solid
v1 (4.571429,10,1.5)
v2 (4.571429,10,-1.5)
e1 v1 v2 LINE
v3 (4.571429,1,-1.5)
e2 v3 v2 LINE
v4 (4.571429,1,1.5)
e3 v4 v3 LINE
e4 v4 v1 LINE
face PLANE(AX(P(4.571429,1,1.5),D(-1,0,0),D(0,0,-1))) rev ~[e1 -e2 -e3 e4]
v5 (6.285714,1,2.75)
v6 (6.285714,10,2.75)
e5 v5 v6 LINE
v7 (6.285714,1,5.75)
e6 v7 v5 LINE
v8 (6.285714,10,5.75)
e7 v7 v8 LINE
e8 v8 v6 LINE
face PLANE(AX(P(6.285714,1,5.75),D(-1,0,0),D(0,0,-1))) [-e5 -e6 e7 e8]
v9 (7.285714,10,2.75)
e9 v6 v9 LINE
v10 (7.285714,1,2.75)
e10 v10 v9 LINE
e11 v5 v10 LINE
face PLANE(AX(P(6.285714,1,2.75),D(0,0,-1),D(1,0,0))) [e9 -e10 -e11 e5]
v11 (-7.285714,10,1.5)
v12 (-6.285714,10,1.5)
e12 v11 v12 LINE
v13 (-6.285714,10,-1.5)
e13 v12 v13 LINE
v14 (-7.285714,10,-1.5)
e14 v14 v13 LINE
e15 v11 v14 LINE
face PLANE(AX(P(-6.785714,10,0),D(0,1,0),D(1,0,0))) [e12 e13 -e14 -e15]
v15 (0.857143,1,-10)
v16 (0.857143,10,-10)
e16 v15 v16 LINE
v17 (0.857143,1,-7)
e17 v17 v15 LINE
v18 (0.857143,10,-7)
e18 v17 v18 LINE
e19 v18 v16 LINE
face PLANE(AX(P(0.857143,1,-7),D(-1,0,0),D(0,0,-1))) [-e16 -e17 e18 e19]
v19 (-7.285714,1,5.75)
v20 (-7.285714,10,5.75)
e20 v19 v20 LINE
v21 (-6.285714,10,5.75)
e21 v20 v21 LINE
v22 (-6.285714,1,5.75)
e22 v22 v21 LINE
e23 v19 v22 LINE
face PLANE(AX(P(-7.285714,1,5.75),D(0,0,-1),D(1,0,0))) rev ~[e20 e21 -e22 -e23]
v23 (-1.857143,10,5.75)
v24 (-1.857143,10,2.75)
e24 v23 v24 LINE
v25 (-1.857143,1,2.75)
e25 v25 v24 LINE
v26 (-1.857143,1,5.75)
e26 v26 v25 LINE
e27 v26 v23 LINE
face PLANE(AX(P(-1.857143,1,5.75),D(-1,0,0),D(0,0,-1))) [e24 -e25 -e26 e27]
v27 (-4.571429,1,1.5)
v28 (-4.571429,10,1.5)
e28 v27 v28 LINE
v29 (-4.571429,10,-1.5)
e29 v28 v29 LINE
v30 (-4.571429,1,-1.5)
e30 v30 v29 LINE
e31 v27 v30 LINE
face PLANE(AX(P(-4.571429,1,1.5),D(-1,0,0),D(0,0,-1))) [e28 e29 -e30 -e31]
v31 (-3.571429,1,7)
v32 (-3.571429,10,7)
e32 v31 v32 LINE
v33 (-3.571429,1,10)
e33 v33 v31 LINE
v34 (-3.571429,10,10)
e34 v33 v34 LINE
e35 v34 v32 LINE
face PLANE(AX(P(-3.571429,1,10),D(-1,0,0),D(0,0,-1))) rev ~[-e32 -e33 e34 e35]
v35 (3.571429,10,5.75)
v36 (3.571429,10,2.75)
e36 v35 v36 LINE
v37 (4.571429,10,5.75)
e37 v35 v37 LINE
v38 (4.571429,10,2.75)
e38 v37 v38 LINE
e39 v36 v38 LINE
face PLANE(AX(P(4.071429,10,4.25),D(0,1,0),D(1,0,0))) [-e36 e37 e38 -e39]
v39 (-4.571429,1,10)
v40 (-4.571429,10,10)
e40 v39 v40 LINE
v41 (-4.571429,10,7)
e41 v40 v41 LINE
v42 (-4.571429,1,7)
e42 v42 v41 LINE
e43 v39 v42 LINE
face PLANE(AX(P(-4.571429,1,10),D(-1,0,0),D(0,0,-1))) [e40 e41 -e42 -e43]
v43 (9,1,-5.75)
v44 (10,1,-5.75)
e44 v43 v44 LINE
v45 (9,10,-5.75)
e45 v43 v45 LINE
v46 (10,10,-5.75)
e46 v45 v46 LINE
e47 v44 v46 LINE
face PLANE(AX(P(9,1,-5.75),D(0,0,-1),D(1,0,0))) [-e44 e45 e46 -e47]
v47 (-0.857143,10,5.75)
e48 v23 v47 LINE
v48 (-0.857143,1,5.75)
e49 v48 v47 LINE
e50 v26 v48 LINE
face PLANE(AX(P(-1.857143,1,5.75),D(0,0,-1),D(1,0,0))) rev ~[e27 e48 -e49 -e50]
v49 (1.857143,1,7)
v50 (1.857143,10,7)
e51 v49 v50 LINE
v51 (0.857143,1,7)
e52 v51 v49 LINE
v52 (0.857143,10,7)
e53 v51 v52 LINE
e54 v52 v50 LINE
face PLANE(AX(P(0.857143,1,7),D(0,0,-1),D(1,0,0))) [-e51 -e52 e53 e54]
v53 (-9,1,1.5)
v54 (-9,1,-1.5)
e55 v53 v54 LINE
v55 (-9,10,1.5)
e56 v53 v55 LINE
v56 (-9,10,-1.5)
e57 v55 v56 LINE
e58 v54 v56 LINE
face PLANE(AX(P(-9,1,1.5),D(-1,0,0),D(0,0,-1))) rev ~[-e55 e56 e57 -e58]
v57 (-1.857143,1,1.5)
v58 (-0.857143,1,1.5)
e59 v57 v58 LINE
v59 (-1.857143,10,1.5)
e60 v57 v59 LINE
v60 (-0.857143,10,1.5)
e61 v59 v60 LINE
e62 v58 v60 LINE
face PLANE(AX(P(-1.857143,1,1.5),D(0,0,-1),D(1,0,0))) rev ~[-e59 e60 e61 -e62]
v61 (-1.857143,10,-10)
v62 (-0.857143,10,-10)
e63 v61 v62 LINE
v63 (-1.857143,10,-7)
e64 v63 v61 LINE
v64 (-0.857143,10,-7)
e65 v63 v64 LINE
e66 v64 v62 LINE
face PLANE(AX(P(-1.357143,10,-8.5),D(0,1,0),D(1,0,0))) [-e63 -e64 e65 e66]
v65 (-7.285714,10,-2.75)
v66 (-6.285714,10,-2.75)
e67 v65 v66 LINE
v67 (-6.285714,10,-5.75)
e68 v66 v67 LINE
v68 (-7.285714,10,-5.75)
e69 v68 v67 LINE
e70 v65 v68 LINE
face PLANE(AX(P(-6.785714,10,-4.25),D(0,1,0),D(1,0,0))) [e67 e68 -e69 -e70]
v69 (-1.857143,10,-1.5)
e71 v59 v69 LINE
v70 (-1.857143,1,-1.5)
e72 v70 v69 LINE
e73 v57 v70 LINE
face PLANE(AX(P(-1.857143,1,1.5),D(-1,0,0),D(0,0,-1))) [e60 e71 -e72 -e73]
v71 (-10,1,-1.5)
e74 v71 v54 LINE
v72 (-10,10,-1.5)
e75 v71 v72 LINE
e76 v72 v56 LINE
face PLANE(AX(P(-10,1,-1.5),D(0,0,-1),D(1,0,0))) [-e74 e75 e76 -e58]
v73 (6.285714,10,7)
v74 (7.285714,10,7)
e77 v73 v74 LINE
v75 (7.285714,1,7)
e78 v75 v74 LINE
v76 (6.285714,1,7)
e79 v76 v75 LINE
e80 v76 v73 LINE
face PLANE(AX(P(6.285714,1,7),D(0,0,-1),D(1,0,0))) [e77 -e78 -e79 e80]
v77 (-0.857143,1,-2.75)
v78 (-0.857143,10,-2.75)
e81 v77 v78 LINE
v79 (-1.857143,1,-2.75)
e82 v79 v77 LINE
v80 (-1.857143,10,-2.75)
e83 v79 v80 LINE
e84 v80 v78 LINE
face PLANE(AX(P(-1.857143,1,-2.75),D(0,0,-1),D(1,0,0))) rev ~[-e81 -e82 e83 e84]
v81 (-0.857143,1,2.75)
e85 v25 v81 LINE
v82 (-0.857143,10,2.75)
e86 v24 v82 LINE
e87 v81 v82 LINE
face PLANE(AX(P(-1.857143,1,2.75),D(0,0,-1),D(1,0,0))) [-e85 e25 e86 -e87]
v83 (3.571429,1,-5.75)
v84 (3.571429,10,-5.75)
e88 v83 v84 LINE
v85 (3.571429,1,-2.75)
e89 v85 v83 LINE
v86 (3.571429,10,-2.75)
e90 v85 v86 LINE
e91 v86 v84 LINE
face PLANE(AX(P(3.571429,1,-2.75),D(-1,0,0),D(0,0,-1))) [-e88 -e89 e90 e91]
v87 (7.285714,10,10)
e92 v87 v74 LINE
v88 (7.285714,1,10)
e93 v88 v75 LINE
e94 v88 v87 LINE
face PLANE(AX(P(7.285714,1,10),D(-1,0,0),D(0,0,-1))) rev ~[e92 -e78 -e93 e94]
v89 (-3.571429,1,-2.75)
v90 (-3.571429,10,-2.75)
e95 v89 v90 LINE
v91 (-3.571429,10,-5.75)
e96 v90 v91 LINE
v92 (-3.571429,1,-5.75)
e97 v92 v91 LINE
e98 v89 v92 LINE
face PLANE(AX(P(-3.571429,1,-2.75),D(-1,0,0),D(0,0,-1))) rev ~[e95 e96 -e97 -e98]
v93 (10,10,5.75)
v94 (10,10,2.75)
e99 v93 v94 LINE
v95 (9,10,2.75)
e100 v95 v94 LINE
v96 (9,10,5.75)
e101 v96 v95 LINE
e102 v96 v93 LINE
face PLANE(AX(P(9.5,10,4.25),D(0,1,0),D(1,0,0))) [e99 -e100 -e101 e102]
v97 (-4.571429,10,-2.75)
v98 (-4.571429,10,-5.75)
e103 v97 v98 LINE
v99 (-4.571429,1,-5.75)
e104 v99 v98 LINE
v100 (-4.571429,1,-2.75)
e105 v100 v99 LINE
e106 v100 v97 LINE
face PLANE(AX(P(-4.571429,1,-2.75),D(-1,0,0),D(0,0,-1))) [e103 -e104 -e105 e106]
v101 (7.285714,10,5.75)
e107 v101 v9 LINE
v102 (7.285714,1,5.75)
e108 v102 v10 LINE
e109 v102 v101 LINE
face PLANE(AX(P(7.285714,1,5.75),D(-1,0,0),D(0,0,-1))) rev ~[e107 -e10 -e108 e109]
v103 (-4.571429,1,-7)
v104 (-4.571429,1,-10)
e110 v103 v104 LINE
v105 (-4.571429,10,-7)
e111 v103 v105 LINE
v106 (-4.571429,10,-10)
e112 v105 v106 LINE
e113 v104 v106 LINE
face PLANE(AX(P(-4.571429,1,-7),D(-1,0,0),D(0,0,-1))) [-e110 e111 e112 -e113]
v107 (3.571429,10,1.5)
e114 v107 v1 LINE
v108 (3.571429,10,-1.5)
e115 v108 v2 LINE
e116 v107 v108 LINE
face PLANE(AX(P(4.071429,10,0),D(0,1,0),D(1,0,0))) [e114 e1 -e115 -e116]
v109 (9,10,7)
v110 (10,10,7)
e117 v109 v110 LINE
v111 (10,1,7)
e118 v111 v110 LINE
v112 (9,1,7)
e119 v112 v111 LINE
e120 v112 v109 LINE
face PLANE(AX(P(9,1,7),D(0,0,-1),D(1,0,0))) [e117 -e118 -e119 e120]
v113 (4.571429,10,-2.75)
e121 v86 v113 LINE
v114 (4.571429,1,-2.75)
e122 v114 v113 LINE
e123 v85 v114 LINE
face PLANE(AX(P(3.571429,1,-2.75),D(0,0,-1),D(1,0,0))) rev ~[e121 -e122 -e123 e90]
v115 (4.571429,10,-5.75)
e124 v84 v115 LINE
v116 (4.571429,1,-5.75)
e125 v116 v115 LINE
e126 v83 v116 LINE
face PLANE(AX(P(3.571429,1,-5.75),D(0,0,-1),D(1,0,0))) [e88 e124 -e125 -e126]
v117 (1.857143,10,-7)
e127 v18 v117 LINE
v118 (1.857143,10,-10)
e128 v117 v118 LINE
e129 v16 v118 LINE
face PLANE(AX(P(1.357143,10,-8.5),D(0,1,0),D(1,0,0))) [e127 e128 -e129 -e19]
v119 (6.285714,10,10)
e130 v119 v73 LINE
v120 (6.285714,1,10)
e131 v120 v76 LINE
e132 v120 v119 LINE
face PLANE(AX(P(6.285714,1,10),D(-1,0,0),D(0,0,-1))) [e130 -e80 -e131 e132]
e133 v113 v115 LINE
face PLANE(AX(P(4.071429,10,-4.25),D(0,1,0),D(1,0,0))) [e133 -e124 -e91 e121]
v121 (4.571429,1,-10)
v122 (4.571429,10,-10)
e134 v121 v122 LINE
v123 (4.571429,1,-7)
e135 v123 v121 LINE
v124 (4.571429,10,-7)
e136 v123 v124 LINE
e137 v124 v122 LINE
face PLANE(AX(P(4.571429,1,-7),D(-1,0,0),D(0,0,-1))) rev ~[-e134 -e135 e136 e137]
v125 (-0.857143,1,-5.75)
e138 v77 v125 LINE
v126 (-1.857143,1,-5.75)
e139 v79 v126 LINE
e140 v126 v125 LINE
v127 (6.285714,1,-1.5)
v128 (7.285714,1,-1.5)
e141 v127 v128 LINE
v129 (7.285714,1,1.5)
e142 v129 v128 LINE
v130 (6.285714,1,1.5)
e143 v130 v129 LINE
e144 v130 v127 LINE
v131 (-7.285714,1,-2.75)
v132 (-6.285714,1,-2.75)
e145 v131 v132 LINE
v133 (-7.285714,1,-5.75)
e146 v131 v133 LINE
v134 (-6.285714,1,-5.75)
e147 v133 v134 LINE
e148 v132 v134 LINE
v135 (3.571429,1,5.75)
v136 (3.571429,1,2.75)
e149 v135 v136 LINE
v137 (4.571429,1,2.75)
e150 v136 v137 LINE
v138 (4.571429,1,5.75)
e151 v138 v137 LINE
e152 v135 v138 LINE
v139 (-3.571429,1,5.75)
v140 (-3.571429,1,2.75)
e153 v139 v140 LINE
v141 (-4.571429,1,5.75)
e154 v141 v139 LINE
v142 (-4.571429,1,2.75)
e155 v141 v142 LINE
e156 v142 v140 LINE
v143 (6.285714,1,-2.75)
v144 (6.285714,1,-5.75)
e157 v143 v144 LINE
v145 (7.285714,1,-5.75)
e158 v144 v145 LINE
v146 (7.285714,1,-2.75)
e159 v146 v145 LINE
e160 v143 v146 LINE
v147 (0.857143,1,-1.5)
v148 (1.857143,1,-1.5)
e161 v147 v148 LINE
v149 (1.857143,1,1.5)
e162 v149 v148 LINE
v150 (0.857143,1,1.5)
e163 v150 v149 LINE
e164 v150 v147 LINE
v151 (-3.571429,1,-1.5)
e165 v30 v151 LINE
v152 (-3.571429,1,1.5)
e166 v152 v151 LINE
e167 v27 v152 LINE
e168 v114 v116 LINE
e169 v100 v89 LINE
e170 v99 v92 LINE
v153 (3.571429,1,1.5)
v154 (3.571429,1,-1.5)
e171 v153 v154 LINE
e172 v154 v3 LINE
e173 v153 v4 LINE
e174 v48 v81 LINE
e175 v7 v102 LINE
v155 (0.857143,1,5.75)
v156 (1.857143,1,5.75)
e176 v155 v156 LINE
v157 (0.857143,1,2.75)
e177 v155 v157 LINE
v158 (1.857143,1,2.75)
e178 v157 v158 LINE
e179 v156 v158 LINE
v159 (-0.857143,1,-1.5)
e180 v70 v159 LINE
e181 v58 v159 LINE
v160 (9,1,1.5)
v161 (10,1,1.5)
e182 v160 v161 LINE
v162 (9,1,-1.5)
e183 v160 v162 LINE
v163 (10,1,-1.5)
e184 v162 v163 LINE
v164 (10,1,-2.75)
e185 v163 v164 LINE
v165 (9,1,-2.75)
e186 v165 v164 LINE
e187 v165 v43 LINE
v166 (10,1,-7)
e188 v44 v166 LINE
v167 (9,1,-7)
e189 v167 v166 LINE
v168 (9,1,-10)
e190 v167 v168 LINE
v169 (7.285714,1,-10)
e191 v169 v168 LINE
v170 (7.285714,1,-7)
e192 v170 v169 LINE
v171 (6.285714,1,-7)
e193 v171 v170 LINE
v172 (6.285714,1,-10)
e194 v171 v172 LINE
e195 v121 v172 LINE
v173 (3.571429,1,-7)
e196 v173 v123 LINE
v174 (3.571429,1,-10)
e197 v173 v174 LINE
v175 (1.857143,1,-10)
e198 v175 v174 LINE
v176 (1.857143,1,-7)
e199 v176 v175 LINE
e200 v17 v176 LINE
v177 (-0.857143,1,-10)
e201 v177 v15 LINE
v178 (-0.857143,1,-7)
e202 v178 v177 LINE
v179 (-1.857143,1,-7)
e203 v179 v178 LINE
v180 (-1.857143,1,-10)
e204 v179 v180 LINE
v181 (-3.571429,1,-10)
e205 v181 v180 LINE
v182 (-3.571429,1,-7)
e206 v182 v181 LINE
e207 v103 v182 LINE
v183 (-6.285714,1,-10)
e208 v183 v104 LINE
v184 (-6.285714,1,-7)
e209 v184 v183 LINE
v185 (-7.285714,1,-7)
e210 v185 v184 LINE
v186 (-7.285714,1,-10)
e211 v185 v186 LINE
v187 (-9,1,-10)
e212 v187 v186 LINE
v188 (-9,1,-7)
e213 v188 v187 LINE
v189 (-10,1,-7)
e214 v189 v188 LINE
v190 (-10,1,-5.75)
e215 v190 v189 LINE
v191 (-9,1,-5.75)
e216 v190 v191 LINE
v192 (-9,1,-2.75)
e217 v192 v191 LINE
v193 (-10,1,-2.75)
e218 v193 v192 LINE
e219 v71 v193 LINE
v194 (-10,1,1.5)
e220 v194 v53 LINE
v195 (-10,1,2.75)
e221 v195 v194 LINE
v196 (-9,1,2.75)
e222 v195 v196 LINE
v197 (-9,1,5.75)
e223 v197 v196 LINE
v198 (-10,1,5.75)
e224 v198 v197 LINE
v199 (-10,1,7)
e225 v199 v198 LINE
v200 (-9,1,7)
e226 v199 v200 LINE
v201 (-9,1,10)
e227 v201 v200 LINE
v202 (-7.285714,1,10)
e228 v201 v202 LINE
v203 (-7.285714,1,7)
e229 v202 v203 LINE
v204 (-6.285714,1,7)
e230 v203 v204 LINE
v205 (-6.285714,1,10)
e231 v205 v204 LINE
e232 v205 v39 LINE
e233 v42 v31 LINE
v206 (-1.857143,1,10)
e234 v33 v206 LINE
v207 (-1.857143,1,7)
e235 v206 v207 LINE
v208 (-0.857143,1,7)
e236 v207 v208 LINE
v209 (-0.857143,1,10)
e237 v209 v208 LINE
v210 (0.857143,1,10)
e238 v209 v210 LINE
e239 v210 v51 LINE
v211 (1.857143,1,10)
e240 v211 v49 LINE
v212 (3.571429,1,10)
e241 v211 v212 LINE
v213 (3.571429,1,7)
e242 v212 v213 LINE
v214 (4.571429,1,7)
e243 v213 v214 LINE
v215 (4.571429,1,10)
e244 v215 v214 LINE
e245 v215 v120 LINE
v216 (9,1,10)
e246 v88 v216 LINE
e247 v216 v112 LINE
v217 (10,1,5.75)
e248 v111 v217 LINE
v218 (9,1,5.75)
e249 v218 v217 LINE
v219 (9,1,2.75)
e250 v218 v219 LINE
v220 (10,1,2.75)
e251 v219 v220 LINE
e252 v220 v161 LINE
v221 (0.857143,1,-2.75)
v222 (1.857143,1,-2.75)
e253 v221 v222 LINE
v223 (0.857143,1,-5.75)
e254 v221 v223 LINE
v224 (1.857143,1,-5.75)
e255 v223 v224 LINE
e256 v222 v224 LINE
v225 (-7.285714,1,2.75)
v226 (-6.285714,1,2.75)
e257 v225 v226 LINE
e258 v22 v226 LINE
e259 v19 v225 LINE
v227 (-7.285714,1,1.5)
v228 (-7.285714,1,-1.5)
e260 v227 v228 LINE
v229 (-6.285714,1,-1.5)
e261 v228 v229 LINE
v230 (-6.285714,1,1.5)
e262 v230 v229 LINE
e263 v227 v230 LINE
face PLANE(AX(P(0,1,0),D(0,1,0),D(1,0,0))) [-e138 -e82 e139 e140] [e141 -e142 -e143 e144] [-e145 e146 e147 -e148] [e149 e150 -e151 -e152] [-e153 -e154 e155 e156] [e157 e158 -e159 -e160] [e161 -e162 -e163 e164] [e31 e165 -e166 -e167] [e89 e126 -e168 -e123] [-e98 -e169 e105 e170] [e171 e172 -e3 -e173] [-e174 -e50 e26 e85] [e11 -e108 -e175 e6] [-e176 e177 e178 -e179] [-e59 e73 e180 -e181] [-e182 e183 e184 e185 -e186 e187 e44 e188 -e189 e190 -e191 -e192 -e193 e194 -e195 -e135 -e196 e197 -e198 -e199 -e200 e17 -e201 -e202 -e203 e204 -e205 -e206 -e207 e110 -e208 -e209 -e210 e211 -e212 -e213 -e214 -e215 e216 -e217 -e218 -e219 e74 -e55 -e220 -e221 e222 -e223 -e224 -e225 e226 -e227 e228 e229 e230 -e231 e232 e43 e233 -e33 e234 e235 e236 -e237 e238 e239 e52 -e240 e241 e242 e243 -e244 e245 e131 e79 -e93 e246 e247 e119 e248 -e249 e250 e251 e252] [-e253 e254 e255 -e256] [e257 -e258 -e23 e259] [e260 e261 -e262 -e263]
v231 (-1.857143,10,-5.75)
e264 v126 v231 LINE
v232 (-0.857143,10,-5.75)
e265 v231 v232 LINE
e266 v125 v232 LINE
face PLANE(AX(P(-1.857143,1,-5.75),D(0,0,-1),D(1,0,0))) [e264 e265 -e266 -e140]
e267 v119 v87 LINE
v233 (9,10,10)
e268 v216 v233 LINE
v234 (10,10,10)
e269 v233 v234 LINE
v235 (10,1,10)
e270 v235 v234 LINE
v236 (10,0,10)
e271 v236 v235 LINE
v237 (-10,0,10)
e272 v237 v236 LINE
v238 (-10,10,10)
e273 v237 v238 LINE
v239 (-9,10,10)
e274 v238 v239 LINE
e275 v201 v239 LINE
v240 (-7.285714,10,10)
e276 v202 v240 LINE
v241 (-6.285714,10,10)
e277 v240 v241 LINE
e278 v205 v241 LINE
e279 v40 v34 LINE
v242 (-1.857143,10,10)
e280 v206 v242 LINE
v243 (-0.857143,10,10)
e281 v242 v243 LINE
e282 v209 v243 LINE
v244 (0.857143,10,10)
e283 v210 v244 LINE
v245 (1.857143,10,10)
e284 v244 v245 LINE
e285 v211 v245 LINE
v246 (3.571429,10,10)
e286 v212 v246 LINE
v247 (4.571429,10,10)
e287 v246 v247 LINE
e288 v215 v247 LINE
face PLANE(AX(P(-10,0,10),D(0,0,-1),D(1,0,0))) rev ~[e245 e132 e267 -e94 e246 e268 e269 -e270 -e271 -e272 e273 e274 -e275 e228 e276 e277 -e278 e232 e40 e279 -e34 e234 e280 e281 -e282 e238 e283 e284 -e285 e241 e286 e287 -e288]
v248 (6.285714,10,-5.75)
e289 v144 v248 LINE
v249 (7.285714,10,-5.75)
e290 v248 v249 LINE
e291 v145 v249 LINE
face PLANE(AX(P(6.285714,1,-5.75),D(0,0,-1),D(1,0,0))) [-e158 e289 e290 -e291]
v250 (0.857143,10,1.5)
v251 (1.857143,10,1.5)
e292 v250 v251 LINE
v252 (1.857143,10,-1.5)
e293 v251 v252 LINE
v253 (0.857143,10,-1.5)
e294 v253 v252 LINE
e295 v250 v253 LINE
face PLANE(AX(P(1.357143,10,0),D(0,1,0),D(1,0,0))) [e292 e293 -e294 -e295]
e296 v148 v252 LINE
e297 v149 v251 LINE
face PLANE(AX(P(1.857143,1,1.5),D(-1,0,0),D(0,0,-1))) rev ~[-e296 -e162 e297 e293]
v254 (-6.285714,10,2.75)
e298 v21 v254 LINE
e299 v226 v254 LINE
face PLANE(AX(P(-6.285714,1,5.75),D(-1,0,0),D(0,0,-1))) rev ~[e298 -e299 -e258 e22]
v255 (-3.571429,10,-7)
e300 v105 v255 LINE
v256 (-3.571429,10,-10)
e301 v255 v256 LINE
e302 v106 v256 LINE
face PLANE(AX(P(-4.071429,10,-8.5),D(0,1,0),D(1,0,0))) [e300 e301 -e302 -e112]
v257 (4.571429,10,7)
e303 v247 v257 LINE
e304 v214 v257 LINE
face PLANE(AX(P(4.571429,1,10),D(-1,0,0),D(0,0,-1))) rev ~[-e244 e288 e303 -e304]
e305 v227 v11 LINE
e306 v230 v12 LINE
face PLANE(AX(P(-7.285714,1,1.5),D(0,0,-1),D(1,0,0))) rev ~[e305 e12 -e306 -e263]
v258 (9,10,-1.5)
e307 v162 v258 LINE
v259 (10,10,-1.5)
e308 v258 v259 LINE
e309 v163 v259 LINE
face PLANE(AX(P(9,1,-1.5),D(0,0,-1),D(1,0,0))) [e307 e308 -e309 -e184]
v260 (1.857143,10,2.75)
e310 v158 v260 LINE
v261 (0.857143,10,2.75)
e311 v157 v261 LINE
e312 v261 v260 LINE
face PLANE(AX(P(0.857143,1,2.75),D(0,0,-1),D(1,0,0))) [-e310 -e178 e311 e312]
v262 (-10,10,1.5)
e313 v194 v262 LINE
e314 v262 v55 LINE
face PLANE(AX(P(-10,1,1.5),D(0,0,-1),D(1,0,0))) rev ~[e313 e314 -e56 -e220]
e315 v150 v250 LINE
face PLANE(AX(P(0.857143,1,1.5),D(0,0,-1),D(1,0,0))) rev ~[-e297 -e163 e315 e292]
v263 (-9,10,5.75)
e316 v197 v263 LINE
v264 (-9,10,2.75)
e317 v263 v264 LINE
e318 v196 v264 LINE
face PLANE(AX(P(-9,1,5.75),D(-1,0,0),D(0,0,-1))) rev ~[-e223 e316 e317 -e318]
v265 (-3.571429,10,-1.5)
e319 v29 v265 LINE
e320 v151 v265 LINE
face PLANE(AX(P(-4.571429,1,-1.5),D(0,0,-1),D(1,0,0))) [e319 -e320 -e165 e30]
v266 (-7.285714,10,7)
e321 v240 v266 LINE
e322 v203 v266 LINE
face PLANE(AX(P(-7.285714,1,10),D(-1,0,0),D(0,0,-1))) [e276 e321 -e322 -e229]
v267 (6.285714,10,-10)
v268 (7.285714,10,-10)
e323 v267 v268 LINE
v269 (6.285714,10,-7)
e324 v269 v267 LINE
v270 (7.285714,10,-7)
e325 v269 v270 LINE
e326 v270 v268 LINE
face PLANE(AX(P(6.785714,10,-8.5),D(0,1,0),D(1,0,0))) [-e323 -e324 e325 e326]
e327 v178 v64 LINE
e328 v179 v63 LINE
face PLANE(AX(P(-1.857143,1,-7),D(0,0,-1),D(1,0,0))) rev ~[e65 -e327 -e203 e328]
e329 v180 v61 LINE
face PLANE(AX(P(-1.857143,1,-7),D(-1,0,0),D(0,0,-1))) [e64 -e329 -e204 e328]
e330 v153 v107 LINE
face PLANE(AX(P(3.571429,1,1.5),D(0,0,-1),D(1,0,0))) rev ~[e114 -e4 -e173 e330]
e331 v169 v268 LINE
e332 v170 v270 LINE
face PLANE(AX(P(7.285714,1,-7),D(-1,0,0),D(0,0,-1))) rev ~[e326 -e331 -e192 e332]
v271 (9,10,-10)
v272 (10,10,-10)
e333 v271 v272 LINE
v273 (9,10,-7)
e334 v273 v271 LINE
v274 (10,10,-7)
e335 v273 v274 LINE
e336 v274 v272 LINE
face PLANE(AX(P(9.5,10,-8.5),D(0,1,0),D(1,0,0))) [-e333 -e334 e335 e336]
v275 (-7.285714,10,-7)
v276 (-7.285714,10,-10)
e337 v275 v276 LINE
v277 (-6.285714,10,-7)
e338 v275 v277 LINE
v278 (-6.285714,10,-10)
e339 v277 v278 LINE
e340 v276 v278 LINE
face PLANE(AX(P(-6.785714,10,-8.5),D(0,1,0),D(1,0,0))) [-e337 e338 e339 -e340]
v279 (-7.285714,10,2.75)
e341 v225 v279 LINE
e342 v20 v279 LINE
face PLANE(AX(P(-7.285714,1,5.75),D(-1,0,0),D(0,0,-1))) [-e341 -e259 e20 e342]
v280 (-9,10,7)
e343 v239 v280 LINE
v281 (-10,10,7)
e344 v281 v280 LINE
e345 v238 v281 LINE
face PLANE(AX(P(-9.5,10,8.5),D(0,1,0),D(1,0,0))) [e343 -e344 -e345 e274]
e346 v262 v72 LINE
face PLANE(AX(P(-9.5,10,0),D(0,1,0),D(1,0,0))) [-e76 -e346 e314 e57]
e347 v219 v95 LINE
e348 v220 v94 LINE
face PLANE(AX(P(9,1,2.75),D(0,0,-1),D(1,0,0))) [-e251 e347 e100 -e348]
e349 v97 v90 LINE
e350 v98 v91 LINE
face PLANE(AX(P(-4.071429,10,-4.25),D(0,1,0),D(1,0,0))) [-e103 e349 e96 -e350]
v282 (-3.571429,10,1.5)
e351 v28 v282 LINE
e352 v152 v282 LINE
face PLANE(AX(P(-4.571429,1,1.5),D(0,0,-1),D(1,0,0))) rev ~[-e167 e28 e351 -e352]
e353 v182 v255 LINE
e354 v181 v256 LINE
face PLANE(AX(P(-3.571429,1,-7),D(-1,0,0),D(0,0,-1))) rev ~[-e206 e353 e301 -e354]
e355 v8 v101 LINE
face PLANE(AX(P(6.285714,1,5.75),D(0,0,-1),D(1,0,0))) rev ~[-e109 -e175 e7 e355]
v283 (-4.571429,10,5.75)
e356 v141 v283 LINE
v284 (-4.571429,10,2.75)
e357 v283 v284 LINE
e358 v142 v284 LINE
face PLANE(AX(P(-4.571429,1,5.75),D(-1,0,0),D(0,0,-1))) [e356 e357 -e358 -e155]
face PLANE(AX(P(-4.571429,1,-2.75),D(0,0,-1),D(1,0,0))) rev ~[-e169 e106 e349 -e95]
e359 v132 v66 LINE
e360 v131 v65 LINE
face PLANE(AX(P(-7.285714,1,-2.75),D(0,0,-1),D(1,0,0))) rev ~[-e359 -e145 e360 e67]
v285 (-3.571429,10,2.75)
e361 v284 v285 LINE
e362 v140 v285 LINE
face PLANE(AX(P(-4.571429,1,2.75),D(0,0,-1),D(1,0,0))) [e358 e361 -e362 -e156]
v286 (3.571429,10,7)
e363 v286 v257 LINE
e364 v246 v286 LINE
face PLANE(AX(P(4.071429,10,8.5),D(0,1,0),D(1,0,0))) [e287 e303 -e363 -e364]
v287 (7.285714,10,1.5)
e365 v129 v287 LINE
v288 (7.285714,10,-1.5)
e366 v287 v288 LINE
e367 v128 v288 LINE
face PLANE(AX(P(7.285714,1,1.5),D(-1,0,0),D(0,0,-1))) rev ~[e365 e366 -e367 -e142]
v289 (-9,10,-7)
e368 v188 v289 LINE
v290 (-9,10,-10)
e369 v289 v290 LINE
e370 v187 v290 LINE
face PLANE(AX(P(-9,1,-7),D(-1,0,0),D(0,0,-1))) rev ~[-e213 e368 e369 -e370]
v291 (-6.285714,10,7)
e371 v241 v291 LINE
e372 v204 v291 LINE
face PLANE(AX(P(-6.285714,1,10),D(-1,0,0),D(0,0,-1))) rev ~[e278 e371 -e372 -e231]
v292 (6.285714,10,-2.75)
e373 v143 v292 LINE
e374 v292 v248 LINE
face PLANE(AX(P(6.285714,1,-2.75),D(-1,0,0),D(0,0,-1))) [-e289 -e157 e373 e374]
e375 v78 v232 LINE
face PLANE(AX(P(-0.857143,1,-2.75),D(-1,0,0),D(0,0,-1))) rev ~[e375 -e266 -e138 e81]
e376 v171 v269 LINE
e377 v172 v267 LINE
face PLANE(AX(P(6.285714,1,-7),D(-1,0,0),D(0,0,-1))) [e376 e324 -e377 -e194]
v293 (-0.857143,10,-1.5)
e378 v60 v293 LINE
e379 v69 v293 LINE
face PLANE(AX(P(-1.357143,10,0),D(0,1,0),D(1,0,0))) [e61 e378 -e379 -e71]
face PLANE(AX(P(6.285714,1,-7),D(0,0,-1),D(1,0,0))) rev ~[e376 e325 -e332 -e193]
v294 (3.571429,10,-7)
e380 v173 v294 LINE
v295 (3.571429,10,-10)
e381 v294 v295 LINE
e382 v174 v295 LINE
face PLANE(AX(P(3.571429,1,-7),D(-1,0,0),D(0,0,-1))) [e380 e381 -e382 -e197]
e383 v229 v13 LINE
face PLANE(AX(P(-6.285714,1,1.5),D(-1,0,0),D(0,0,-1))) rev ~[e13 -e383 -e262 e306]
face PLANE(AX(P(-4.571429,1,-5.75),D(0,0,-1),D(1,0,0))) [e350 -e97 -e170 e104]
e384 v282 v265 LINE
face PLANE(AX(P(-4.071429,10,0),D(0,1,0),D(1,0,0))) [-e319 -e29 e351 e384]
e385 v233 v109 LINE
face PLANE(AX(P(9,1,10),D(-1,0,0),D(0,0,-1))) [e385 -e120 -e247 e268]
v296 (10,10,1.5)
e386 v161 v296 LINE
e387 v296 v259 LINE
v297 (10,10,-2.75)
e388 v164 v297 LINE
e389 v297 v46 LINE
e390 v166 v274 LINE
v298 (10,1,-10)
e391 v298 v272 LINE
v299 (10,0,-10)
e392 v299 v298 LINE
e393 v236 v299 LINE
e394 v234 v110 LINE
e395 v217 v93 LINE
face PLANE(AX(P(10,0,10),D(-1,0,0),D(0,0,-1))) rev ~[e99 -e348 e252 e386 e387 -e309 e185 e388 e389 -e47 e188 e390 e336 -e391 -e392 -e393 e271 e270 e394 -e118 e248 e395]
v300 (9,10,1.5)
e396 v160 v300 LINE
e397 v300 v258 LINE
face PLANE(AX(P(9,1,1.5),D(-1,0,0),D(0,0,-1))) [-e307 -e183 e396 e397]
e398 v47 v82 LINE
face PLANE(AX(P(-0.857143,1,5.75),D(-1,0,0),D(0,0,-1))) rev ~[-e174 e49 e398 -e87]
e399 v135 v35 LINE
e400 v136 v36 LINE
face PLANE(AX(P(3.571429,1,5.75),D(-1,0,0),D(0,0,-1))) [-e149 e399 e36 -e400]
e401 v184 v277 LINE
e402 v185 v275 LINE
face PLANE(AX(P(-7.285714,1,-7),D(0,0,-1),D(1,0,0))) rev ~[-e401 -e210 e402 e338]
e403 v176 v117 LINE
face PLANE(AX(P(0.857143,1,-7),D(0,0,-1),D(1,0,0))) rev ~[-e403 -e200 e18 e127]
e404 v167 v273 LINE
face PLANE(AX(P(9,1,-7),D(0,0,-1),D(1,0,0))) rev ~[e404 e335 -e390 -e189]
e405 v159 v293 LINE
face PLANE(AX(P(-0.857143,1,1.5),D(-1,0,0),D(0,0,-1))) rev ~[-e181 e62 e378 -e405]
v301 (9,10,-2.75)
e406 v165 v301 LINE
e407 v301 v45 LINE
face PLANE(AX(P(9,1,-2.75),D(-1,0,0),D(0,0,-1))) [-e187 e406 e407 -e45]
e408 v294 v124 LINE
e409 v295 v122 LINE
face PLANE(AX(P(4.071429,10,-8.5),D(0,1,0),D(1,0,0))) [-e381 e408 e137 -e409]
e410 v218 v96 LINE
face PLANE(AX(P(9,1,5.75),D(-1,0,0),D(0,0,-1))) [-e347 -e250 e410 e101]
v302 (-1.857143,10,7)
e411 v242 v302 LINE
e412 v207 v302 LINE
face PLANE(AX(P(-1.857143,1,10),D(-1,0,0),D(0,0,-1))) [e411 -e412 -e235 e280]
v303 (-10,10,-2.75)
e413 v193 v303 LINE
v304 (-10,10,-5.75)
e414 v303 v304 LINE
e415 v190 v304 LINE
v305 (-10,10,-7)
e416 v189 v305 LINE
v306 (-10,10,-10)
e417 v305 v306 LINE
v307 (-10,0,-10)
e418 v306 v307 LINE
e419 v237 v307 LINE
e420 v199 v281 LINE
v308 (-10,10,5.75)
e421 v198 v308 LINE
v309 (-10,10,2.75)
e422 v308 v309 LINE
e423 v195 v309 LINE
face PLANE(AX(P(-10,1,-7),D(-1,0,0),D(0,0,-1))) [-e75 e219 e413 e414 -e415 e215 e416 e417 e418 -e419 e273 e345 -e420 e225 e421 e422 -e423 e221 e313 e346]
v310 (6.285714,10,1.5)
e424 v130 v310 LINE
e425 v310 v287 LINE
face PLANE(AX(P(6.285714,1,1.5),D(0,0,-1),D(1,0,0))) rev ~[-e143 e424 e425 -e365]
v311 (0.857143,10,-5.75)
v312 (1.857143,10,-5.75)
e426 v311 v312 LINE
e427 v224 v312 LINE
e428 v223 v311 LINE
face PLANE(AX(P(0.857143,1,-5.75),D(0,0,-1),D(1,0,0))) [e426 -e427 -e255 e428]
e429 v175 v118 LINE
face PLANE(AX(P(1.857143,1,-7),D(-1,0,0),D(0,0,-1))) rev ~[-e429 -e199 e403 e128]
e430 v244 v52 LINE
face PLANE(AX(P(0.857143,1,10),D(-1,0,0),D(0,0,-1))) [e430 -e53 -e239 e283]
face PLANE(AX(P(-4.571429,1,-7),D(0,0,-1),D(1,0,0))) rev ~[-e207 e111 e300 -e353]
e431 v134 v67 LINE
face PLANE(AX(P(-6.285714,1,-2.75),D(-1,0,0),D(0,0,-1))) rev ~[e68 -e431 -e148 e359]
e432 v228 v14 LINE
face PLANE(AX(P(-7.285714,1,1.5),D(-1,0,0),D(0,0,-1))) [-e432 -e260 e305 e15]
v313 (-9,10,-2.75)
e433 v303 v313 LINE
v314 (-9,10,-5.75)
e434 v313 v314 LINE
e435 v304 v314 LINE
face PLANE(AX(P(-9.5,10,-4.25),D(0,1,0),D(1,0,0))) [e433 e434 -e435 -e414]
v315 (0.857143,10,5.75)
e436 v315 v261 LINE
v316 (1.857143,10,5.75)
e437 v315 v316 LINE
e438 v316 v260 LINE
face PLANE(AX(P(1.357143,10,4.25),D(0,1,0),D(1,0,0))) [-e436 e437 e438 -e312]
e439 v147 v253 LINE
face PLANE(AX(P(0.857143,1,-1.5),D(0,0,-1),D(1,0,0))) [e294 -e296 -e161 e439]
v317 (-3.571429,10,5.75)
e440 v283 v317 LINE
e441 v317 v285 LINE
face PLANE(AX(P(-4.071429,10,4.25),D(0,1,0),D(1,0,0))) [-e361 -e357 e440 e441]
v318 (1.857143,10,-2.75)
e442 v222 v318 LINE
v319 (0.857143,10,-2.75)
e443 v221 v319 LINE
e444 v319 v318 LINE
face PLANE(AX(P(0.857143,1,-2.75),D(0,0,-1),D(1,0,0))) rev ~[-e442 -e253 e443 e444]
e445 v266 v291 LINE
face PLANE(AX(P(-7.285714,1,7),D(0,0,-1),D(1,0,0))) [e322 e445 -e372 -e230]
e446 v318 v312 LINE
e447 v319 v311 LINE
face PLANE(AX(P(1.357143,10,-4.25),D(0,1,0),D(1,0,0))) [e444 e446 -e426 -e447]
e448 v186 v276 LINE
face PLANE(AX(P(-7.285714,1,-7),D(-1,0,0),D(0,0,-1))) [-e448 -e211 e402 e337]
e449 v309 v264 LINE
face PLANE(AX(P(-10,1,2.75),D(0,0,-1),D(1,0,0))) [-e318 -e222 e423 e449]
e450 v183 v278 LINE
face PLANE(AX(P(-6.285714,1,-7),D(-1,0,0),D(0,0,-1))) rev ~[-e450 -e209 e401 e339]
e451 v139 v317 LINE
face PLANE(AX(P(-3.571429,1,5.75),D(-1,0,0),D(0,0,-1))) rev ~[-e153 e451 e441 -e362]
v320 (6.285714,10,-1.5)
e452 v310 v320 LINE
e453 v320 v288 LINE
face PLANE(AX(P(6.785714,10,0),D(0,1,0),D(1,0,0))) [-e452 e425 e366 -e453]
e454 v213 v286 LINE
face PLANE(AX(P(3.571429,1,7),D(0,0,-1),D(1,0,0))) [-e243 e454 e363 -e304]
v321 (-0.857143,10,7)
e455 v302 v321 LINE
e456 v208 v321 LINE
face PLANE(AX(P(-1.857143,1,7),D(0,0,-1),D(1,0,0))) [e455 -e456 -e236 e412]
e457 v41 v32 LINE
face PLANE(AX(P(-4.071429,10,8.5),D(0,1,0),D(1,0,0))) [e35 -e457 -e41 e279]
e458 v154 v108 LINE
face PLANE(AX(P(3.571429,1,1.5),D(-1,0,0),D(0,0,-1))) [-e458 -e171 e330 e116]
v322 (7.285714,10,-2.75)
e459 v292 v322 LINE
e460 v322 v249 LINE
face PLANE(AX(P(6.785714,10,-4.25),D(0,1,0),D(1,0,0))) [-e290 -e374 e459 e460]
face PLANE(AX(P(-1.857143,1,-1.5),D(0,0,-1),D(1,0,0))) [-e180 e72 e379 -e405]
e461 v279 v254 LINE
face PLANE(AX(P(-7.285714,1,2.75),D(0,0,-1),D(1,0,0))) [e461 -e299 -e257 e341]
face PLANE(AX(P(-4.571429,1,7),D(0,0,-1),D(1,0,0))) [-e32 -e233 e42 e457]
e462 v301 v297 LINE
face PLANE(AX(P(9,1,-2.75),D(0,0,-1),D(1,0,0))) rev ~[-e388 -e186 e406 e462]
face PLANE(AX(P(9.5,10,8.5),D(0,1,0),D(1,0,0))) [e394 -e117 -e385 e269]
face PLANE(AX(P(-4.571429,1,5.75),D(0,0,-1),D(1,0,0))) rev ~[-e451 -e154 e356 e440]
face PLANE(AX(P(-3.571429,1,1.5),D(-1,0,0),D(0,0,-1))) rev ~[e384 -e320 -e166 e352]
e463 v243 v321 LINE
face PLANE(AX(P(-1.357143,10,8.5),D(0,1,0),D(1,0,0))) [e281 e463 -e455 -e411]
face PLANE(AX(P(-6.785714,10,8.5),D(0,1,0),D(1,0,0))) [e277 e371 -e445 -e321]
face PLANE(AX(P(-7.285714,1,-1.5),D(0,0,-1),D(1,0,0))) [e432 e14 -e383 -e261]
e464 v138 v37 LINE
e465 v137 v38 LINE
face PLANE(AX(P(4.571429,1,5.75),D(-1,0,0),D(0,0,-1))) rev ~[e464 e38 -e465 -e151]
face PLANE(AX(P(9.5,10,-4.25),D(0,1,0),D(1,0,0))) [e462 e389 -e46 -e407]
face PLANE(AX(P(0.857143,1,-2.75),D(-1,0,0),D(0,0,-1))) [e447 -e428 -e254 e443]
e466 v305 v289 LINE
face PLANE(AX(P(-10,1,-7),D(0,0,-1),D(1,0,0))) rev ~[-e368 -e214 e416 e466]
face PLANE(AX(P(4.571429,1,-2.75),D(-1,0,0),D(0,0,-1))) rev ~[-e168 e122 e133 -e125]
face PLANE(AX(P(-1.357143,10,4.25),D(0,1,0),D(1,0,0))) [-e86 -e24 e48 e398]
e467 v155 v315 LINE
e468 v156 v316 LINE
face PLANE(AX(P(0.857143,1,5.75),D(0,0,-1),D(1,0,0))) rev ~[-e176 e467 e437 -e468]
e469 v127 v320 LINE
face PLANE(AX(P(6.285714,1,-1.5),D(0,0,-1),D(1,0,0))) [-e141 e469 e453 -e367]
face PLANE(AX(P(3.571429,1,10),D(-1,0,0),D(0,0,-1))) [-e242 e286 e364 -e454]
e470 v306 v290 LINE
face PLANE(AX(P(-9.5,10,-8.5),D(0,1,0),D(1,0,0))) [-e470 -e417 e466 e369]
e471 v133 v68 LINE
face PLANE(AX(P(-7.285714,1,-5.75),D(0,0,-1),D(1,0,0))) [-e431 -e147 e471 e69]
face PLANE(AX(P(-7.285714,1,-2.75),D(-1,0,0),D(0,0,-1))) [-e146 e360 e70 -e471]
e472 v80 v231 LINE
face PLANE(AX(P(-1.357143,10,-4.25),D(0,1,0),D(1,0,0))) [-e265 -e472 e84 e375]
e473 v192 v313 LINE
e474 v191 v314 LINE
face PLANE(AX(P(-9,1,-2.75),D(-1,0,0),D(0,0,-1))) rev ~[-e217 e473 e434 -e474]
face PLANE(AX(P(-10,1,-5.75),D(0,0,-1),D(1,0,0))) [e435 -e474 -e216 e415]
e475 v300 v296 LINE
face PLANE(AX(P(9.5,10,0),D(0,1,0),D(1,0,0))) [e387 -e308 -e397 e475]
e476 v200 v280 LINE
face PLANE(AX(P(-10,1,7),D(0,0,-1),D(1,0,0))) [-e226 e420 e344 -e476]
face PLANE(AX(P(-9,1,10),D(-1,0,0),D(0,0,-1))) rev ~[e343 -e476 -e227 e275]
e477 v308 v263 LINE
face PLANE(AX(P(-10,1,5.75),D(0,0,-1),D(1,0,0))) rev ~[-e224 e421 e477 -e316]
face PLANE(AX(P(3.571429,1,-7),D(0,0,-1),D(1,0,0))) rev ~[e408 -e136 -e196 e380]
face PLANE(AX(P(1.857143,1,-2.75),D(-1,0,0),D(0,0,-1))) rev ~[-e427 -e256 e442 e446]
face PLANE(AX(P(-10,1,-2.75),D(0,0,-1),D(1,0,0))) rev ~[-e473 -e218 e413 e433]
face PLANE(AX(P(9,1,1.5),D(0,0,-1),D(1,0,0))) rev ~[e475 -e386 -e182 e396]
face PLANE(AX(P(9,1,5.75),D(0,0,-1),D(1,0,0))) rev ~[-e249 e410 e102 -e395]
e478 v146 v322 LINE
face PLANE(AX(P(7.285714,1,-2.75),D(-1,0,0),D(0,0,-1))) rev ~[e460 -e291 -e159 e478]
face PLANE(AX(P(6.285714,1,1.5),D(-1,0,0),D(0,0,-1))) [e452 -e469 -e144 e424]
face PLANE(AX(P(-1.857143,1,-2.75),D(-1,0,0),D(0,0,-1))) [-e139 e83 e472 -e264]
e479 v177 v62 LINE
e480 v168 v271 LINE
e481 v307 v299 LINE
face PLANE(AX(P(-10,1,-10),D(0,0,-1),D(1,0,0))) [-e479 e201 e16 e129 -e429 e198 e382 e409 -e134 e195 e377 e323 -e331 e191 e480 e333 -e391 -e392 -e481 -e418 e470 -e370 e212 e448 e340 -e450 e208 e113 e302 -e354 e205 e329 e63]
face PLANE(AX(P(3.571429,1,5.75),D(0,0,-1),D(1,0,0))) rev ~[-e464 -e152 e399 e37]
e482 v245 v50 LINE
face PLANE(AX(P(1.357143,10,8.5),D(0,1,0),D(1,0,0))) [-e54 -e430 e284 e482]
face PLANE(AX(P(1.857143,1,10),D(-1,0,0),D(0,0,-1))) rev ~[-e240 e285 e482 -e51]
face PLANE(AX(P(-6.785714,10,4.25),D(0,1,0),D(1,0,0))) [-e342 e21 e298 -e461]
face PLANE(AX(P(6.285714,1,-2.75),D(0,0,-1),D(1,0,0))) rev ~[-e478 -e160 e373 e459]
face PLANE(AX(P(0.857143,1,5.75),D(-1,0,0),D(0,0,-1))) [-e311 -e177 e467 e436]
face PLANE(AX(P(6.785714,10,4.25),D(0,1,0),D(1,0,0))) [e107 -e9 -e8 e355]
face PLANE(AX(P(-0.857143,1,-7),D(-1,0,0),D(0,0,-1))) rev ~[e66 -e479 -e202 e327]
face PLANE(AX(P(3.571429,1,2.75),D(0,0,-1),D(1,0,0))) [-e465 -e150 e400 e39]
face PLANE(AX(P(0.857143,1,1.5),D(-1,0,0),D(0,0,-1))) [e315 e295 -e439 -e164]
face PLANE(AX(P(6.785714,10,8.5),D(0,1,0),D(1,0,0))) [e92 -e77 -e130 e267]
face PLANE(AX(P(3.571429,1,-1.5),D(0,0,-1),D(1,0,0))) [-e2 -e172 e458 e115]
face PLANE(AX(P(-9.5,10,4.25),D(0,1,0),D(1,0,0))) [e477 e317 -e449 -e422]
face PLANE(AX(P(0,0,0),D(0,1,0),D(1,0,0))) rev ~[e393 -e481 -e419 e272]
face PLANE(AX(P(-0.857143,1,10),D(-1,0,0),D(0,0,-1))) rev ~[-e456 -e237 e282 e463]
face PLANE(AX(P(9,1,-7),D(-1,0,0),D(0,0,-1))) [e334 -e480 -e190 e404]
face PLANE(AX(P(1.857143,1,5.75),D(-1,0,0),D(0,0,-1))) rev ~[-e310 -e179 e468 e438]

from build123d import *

# Parameters (mm, degrees)
SKETCH1_W           = 20
SKETCH1_H           = 20
BOSS_EXTRUDE1_DEPTH = 1
SKETCH2_W           = 1
SKETCH2_H           = 3
BOSS_EXTRUDE2_DEPTH = 9


with BuildPart() as part:
    # Sketch1 → Boss-Extrude1 (new body)
    with BuildSketch(Plane(origin=(0, 0, 0), x_dir=(1, 0, 0), z_dir=(0, 1, 0))):
        Rectangle(SKETCH1_W, SKETCH1_H)
    extrude(amount=BOSS_EXTRUDE1_DEPTH)

    # Sketch2 → Boss-Extrude2 (add)
    with BuildSketch(Plane(origin=(0, 1, 0), x_dir=(1, 0, 0), z_dir=(0, 1, 0))):
        with Locations((-9.5, 8.5)):
            Rectangle(SKETCH2_W, SKETCH2_H)
        with Locations((-6.78571429, 8.5)):
            Rectangle(SKETCH2_W, SKETCH2_H)
        with Locations((-4.07142858, 8.5)):
            Rectangle(SKETCH2_W, SKETCH2_H)
        with Locations((-1.35714287, 8.5)):
            Rectangle(SKETCH2_W, SKETCH2_H)
        with Locations((1.35714284, 8.5)):
            Rectangle(SKETCH2_W, SKETCH2_H)
        with Locations((4.07142855, 8.5)):
            Rectangle(SKETCH2_W, SKETCH2_H)
        with Locations((6.78571426, 8.5)):
            Rectangle(SKETCH2_W, SKETCH2_H)
        with Locations((9.49999997, 8.5)):
            Rectangle(SKETCH2_W, SKETCH2_H)
        with Locations((6.78571426, 4.25)):
            Rectangle(SKETCH2_W, SKETCH2_H)
        with Locations((4.07142855, 4.25)):
            Rectangle(SKETCH2_W, SKETCH2_H)
        with Locations((1.35714284, 4.25)):
            Rectangle(SKETCH2_W, SKETCH2_H)
        with Locations((-1.35714287, 4.25)):
            Rectangle(SKETCH2_W, SKETCH2_H)
        with Locations((-4.07142858, 4.25)):
            Rectangle(SKETCH2_W, SKETCH2_H)
        with Locations((-9.5, 4.25)):
            Rectangle(SKETCH2_W, SKETCH2_H)
        with Locations((-6.78571429, 0)):
            Rectangle(SKETCH2_W, SKETCH2_H)
        with Locations((-4.07142858, 0)):
            Rectangle(SKETCH2_W, SKETCH2_H)
        with Locations((-1.35714287, 0)):
            Rectangle(SKETCH2_W, SKETCH2_H)
        with Locations((1.35714284, 0)):
            Rectangle(SKETCH2_W, SKETCH2_H)
        with Locations((6.78571426, 0)):
            Rectangle(SKETCH2_W, SKETCH2_H)
        with Locations((9.49999997, 0)):
            Rectangle(SKETCH2_W, SKETCH2_H)
        with Locations((9.49999997, -4.25)):
            Rectangle(SKETCH2_W, SKETCH2_H)
        with Locations((6.78571426, -4.25)):
            Rectangle(SKETCH2_W, SKETCH2_H)
        with Locations((4.07142855, -4.25)):
            Rectangle(SKETCH2_W, SKETCH2_H)
        with Locations((1.35714284, -4.25)):
            Rectangle(SKETCH2_W, SKETCH2_H)
        with Locations((-1.35714287, -4.25)):
            Rectangle(SKETCH2_W, SKETCH2_H)
        with Locations((-4.07142858, -4.25)):
            Rectangle(SKETCH2_W, SKETCH2_H)
        with Locations((-6.78571429, -4.25)):
            Rectangle(SKETCH2_W, SKETCH2_H)
        with Locations((-9.5, -4.25)):
            Rectangle(SKETCH2_W, SKETCH2_H)
        with Locations((-9.5, -8.5)):
            Rectangle(SKETCH2_W, SKETCH2_H)
        with Locations((-6.78571429, -8.5)):
            Rectangle(SKETCH2_W, SKETCH2_H)
        with Locations((-4.07142858, -8.5)):
            Rectangle(SKETCH2_W, SKETCH2_H)
        with Locations((-1.35714287, -8.5)):
            Rectangle(SKETCH2_W, SKETCH2_H)
        with Locations((1.35714284, -8.5)):
            Rectangle(SKETCH2_W, SKETCH2_H)
        with Locations((4.07142855, -8.5)):
            Rectangle(SKETCH2_W, SKETCH2_H)
        with Locations((6.78571426, -8.5)):
            Rectangle(SKETCH2_W, SKETCH2_H)
        with Locations((9.49999997, -8.5)):
            Rectangle(SKETCH2_W, SKETCH2_H)
        with Locations((9.49999997, 4.25)):
            Rectangle(SKETCH2_W, SKETCH2_H)
        with Locations((-6.78571429, 4.25)):
            Rectangle(SKETCH2_W, SKETCH2_H)
        with Locations((-9.5, 0)):
            Rectangle(SKETCH2_W, SKETCH2_H)
        with Locations((4.07142855, 0)):
            Rectangle(SKETCH2_W, SKETCH2_H)
    extrude(amount=BOSS_EXTRUDE2_DEPTH)


solid = part.part
